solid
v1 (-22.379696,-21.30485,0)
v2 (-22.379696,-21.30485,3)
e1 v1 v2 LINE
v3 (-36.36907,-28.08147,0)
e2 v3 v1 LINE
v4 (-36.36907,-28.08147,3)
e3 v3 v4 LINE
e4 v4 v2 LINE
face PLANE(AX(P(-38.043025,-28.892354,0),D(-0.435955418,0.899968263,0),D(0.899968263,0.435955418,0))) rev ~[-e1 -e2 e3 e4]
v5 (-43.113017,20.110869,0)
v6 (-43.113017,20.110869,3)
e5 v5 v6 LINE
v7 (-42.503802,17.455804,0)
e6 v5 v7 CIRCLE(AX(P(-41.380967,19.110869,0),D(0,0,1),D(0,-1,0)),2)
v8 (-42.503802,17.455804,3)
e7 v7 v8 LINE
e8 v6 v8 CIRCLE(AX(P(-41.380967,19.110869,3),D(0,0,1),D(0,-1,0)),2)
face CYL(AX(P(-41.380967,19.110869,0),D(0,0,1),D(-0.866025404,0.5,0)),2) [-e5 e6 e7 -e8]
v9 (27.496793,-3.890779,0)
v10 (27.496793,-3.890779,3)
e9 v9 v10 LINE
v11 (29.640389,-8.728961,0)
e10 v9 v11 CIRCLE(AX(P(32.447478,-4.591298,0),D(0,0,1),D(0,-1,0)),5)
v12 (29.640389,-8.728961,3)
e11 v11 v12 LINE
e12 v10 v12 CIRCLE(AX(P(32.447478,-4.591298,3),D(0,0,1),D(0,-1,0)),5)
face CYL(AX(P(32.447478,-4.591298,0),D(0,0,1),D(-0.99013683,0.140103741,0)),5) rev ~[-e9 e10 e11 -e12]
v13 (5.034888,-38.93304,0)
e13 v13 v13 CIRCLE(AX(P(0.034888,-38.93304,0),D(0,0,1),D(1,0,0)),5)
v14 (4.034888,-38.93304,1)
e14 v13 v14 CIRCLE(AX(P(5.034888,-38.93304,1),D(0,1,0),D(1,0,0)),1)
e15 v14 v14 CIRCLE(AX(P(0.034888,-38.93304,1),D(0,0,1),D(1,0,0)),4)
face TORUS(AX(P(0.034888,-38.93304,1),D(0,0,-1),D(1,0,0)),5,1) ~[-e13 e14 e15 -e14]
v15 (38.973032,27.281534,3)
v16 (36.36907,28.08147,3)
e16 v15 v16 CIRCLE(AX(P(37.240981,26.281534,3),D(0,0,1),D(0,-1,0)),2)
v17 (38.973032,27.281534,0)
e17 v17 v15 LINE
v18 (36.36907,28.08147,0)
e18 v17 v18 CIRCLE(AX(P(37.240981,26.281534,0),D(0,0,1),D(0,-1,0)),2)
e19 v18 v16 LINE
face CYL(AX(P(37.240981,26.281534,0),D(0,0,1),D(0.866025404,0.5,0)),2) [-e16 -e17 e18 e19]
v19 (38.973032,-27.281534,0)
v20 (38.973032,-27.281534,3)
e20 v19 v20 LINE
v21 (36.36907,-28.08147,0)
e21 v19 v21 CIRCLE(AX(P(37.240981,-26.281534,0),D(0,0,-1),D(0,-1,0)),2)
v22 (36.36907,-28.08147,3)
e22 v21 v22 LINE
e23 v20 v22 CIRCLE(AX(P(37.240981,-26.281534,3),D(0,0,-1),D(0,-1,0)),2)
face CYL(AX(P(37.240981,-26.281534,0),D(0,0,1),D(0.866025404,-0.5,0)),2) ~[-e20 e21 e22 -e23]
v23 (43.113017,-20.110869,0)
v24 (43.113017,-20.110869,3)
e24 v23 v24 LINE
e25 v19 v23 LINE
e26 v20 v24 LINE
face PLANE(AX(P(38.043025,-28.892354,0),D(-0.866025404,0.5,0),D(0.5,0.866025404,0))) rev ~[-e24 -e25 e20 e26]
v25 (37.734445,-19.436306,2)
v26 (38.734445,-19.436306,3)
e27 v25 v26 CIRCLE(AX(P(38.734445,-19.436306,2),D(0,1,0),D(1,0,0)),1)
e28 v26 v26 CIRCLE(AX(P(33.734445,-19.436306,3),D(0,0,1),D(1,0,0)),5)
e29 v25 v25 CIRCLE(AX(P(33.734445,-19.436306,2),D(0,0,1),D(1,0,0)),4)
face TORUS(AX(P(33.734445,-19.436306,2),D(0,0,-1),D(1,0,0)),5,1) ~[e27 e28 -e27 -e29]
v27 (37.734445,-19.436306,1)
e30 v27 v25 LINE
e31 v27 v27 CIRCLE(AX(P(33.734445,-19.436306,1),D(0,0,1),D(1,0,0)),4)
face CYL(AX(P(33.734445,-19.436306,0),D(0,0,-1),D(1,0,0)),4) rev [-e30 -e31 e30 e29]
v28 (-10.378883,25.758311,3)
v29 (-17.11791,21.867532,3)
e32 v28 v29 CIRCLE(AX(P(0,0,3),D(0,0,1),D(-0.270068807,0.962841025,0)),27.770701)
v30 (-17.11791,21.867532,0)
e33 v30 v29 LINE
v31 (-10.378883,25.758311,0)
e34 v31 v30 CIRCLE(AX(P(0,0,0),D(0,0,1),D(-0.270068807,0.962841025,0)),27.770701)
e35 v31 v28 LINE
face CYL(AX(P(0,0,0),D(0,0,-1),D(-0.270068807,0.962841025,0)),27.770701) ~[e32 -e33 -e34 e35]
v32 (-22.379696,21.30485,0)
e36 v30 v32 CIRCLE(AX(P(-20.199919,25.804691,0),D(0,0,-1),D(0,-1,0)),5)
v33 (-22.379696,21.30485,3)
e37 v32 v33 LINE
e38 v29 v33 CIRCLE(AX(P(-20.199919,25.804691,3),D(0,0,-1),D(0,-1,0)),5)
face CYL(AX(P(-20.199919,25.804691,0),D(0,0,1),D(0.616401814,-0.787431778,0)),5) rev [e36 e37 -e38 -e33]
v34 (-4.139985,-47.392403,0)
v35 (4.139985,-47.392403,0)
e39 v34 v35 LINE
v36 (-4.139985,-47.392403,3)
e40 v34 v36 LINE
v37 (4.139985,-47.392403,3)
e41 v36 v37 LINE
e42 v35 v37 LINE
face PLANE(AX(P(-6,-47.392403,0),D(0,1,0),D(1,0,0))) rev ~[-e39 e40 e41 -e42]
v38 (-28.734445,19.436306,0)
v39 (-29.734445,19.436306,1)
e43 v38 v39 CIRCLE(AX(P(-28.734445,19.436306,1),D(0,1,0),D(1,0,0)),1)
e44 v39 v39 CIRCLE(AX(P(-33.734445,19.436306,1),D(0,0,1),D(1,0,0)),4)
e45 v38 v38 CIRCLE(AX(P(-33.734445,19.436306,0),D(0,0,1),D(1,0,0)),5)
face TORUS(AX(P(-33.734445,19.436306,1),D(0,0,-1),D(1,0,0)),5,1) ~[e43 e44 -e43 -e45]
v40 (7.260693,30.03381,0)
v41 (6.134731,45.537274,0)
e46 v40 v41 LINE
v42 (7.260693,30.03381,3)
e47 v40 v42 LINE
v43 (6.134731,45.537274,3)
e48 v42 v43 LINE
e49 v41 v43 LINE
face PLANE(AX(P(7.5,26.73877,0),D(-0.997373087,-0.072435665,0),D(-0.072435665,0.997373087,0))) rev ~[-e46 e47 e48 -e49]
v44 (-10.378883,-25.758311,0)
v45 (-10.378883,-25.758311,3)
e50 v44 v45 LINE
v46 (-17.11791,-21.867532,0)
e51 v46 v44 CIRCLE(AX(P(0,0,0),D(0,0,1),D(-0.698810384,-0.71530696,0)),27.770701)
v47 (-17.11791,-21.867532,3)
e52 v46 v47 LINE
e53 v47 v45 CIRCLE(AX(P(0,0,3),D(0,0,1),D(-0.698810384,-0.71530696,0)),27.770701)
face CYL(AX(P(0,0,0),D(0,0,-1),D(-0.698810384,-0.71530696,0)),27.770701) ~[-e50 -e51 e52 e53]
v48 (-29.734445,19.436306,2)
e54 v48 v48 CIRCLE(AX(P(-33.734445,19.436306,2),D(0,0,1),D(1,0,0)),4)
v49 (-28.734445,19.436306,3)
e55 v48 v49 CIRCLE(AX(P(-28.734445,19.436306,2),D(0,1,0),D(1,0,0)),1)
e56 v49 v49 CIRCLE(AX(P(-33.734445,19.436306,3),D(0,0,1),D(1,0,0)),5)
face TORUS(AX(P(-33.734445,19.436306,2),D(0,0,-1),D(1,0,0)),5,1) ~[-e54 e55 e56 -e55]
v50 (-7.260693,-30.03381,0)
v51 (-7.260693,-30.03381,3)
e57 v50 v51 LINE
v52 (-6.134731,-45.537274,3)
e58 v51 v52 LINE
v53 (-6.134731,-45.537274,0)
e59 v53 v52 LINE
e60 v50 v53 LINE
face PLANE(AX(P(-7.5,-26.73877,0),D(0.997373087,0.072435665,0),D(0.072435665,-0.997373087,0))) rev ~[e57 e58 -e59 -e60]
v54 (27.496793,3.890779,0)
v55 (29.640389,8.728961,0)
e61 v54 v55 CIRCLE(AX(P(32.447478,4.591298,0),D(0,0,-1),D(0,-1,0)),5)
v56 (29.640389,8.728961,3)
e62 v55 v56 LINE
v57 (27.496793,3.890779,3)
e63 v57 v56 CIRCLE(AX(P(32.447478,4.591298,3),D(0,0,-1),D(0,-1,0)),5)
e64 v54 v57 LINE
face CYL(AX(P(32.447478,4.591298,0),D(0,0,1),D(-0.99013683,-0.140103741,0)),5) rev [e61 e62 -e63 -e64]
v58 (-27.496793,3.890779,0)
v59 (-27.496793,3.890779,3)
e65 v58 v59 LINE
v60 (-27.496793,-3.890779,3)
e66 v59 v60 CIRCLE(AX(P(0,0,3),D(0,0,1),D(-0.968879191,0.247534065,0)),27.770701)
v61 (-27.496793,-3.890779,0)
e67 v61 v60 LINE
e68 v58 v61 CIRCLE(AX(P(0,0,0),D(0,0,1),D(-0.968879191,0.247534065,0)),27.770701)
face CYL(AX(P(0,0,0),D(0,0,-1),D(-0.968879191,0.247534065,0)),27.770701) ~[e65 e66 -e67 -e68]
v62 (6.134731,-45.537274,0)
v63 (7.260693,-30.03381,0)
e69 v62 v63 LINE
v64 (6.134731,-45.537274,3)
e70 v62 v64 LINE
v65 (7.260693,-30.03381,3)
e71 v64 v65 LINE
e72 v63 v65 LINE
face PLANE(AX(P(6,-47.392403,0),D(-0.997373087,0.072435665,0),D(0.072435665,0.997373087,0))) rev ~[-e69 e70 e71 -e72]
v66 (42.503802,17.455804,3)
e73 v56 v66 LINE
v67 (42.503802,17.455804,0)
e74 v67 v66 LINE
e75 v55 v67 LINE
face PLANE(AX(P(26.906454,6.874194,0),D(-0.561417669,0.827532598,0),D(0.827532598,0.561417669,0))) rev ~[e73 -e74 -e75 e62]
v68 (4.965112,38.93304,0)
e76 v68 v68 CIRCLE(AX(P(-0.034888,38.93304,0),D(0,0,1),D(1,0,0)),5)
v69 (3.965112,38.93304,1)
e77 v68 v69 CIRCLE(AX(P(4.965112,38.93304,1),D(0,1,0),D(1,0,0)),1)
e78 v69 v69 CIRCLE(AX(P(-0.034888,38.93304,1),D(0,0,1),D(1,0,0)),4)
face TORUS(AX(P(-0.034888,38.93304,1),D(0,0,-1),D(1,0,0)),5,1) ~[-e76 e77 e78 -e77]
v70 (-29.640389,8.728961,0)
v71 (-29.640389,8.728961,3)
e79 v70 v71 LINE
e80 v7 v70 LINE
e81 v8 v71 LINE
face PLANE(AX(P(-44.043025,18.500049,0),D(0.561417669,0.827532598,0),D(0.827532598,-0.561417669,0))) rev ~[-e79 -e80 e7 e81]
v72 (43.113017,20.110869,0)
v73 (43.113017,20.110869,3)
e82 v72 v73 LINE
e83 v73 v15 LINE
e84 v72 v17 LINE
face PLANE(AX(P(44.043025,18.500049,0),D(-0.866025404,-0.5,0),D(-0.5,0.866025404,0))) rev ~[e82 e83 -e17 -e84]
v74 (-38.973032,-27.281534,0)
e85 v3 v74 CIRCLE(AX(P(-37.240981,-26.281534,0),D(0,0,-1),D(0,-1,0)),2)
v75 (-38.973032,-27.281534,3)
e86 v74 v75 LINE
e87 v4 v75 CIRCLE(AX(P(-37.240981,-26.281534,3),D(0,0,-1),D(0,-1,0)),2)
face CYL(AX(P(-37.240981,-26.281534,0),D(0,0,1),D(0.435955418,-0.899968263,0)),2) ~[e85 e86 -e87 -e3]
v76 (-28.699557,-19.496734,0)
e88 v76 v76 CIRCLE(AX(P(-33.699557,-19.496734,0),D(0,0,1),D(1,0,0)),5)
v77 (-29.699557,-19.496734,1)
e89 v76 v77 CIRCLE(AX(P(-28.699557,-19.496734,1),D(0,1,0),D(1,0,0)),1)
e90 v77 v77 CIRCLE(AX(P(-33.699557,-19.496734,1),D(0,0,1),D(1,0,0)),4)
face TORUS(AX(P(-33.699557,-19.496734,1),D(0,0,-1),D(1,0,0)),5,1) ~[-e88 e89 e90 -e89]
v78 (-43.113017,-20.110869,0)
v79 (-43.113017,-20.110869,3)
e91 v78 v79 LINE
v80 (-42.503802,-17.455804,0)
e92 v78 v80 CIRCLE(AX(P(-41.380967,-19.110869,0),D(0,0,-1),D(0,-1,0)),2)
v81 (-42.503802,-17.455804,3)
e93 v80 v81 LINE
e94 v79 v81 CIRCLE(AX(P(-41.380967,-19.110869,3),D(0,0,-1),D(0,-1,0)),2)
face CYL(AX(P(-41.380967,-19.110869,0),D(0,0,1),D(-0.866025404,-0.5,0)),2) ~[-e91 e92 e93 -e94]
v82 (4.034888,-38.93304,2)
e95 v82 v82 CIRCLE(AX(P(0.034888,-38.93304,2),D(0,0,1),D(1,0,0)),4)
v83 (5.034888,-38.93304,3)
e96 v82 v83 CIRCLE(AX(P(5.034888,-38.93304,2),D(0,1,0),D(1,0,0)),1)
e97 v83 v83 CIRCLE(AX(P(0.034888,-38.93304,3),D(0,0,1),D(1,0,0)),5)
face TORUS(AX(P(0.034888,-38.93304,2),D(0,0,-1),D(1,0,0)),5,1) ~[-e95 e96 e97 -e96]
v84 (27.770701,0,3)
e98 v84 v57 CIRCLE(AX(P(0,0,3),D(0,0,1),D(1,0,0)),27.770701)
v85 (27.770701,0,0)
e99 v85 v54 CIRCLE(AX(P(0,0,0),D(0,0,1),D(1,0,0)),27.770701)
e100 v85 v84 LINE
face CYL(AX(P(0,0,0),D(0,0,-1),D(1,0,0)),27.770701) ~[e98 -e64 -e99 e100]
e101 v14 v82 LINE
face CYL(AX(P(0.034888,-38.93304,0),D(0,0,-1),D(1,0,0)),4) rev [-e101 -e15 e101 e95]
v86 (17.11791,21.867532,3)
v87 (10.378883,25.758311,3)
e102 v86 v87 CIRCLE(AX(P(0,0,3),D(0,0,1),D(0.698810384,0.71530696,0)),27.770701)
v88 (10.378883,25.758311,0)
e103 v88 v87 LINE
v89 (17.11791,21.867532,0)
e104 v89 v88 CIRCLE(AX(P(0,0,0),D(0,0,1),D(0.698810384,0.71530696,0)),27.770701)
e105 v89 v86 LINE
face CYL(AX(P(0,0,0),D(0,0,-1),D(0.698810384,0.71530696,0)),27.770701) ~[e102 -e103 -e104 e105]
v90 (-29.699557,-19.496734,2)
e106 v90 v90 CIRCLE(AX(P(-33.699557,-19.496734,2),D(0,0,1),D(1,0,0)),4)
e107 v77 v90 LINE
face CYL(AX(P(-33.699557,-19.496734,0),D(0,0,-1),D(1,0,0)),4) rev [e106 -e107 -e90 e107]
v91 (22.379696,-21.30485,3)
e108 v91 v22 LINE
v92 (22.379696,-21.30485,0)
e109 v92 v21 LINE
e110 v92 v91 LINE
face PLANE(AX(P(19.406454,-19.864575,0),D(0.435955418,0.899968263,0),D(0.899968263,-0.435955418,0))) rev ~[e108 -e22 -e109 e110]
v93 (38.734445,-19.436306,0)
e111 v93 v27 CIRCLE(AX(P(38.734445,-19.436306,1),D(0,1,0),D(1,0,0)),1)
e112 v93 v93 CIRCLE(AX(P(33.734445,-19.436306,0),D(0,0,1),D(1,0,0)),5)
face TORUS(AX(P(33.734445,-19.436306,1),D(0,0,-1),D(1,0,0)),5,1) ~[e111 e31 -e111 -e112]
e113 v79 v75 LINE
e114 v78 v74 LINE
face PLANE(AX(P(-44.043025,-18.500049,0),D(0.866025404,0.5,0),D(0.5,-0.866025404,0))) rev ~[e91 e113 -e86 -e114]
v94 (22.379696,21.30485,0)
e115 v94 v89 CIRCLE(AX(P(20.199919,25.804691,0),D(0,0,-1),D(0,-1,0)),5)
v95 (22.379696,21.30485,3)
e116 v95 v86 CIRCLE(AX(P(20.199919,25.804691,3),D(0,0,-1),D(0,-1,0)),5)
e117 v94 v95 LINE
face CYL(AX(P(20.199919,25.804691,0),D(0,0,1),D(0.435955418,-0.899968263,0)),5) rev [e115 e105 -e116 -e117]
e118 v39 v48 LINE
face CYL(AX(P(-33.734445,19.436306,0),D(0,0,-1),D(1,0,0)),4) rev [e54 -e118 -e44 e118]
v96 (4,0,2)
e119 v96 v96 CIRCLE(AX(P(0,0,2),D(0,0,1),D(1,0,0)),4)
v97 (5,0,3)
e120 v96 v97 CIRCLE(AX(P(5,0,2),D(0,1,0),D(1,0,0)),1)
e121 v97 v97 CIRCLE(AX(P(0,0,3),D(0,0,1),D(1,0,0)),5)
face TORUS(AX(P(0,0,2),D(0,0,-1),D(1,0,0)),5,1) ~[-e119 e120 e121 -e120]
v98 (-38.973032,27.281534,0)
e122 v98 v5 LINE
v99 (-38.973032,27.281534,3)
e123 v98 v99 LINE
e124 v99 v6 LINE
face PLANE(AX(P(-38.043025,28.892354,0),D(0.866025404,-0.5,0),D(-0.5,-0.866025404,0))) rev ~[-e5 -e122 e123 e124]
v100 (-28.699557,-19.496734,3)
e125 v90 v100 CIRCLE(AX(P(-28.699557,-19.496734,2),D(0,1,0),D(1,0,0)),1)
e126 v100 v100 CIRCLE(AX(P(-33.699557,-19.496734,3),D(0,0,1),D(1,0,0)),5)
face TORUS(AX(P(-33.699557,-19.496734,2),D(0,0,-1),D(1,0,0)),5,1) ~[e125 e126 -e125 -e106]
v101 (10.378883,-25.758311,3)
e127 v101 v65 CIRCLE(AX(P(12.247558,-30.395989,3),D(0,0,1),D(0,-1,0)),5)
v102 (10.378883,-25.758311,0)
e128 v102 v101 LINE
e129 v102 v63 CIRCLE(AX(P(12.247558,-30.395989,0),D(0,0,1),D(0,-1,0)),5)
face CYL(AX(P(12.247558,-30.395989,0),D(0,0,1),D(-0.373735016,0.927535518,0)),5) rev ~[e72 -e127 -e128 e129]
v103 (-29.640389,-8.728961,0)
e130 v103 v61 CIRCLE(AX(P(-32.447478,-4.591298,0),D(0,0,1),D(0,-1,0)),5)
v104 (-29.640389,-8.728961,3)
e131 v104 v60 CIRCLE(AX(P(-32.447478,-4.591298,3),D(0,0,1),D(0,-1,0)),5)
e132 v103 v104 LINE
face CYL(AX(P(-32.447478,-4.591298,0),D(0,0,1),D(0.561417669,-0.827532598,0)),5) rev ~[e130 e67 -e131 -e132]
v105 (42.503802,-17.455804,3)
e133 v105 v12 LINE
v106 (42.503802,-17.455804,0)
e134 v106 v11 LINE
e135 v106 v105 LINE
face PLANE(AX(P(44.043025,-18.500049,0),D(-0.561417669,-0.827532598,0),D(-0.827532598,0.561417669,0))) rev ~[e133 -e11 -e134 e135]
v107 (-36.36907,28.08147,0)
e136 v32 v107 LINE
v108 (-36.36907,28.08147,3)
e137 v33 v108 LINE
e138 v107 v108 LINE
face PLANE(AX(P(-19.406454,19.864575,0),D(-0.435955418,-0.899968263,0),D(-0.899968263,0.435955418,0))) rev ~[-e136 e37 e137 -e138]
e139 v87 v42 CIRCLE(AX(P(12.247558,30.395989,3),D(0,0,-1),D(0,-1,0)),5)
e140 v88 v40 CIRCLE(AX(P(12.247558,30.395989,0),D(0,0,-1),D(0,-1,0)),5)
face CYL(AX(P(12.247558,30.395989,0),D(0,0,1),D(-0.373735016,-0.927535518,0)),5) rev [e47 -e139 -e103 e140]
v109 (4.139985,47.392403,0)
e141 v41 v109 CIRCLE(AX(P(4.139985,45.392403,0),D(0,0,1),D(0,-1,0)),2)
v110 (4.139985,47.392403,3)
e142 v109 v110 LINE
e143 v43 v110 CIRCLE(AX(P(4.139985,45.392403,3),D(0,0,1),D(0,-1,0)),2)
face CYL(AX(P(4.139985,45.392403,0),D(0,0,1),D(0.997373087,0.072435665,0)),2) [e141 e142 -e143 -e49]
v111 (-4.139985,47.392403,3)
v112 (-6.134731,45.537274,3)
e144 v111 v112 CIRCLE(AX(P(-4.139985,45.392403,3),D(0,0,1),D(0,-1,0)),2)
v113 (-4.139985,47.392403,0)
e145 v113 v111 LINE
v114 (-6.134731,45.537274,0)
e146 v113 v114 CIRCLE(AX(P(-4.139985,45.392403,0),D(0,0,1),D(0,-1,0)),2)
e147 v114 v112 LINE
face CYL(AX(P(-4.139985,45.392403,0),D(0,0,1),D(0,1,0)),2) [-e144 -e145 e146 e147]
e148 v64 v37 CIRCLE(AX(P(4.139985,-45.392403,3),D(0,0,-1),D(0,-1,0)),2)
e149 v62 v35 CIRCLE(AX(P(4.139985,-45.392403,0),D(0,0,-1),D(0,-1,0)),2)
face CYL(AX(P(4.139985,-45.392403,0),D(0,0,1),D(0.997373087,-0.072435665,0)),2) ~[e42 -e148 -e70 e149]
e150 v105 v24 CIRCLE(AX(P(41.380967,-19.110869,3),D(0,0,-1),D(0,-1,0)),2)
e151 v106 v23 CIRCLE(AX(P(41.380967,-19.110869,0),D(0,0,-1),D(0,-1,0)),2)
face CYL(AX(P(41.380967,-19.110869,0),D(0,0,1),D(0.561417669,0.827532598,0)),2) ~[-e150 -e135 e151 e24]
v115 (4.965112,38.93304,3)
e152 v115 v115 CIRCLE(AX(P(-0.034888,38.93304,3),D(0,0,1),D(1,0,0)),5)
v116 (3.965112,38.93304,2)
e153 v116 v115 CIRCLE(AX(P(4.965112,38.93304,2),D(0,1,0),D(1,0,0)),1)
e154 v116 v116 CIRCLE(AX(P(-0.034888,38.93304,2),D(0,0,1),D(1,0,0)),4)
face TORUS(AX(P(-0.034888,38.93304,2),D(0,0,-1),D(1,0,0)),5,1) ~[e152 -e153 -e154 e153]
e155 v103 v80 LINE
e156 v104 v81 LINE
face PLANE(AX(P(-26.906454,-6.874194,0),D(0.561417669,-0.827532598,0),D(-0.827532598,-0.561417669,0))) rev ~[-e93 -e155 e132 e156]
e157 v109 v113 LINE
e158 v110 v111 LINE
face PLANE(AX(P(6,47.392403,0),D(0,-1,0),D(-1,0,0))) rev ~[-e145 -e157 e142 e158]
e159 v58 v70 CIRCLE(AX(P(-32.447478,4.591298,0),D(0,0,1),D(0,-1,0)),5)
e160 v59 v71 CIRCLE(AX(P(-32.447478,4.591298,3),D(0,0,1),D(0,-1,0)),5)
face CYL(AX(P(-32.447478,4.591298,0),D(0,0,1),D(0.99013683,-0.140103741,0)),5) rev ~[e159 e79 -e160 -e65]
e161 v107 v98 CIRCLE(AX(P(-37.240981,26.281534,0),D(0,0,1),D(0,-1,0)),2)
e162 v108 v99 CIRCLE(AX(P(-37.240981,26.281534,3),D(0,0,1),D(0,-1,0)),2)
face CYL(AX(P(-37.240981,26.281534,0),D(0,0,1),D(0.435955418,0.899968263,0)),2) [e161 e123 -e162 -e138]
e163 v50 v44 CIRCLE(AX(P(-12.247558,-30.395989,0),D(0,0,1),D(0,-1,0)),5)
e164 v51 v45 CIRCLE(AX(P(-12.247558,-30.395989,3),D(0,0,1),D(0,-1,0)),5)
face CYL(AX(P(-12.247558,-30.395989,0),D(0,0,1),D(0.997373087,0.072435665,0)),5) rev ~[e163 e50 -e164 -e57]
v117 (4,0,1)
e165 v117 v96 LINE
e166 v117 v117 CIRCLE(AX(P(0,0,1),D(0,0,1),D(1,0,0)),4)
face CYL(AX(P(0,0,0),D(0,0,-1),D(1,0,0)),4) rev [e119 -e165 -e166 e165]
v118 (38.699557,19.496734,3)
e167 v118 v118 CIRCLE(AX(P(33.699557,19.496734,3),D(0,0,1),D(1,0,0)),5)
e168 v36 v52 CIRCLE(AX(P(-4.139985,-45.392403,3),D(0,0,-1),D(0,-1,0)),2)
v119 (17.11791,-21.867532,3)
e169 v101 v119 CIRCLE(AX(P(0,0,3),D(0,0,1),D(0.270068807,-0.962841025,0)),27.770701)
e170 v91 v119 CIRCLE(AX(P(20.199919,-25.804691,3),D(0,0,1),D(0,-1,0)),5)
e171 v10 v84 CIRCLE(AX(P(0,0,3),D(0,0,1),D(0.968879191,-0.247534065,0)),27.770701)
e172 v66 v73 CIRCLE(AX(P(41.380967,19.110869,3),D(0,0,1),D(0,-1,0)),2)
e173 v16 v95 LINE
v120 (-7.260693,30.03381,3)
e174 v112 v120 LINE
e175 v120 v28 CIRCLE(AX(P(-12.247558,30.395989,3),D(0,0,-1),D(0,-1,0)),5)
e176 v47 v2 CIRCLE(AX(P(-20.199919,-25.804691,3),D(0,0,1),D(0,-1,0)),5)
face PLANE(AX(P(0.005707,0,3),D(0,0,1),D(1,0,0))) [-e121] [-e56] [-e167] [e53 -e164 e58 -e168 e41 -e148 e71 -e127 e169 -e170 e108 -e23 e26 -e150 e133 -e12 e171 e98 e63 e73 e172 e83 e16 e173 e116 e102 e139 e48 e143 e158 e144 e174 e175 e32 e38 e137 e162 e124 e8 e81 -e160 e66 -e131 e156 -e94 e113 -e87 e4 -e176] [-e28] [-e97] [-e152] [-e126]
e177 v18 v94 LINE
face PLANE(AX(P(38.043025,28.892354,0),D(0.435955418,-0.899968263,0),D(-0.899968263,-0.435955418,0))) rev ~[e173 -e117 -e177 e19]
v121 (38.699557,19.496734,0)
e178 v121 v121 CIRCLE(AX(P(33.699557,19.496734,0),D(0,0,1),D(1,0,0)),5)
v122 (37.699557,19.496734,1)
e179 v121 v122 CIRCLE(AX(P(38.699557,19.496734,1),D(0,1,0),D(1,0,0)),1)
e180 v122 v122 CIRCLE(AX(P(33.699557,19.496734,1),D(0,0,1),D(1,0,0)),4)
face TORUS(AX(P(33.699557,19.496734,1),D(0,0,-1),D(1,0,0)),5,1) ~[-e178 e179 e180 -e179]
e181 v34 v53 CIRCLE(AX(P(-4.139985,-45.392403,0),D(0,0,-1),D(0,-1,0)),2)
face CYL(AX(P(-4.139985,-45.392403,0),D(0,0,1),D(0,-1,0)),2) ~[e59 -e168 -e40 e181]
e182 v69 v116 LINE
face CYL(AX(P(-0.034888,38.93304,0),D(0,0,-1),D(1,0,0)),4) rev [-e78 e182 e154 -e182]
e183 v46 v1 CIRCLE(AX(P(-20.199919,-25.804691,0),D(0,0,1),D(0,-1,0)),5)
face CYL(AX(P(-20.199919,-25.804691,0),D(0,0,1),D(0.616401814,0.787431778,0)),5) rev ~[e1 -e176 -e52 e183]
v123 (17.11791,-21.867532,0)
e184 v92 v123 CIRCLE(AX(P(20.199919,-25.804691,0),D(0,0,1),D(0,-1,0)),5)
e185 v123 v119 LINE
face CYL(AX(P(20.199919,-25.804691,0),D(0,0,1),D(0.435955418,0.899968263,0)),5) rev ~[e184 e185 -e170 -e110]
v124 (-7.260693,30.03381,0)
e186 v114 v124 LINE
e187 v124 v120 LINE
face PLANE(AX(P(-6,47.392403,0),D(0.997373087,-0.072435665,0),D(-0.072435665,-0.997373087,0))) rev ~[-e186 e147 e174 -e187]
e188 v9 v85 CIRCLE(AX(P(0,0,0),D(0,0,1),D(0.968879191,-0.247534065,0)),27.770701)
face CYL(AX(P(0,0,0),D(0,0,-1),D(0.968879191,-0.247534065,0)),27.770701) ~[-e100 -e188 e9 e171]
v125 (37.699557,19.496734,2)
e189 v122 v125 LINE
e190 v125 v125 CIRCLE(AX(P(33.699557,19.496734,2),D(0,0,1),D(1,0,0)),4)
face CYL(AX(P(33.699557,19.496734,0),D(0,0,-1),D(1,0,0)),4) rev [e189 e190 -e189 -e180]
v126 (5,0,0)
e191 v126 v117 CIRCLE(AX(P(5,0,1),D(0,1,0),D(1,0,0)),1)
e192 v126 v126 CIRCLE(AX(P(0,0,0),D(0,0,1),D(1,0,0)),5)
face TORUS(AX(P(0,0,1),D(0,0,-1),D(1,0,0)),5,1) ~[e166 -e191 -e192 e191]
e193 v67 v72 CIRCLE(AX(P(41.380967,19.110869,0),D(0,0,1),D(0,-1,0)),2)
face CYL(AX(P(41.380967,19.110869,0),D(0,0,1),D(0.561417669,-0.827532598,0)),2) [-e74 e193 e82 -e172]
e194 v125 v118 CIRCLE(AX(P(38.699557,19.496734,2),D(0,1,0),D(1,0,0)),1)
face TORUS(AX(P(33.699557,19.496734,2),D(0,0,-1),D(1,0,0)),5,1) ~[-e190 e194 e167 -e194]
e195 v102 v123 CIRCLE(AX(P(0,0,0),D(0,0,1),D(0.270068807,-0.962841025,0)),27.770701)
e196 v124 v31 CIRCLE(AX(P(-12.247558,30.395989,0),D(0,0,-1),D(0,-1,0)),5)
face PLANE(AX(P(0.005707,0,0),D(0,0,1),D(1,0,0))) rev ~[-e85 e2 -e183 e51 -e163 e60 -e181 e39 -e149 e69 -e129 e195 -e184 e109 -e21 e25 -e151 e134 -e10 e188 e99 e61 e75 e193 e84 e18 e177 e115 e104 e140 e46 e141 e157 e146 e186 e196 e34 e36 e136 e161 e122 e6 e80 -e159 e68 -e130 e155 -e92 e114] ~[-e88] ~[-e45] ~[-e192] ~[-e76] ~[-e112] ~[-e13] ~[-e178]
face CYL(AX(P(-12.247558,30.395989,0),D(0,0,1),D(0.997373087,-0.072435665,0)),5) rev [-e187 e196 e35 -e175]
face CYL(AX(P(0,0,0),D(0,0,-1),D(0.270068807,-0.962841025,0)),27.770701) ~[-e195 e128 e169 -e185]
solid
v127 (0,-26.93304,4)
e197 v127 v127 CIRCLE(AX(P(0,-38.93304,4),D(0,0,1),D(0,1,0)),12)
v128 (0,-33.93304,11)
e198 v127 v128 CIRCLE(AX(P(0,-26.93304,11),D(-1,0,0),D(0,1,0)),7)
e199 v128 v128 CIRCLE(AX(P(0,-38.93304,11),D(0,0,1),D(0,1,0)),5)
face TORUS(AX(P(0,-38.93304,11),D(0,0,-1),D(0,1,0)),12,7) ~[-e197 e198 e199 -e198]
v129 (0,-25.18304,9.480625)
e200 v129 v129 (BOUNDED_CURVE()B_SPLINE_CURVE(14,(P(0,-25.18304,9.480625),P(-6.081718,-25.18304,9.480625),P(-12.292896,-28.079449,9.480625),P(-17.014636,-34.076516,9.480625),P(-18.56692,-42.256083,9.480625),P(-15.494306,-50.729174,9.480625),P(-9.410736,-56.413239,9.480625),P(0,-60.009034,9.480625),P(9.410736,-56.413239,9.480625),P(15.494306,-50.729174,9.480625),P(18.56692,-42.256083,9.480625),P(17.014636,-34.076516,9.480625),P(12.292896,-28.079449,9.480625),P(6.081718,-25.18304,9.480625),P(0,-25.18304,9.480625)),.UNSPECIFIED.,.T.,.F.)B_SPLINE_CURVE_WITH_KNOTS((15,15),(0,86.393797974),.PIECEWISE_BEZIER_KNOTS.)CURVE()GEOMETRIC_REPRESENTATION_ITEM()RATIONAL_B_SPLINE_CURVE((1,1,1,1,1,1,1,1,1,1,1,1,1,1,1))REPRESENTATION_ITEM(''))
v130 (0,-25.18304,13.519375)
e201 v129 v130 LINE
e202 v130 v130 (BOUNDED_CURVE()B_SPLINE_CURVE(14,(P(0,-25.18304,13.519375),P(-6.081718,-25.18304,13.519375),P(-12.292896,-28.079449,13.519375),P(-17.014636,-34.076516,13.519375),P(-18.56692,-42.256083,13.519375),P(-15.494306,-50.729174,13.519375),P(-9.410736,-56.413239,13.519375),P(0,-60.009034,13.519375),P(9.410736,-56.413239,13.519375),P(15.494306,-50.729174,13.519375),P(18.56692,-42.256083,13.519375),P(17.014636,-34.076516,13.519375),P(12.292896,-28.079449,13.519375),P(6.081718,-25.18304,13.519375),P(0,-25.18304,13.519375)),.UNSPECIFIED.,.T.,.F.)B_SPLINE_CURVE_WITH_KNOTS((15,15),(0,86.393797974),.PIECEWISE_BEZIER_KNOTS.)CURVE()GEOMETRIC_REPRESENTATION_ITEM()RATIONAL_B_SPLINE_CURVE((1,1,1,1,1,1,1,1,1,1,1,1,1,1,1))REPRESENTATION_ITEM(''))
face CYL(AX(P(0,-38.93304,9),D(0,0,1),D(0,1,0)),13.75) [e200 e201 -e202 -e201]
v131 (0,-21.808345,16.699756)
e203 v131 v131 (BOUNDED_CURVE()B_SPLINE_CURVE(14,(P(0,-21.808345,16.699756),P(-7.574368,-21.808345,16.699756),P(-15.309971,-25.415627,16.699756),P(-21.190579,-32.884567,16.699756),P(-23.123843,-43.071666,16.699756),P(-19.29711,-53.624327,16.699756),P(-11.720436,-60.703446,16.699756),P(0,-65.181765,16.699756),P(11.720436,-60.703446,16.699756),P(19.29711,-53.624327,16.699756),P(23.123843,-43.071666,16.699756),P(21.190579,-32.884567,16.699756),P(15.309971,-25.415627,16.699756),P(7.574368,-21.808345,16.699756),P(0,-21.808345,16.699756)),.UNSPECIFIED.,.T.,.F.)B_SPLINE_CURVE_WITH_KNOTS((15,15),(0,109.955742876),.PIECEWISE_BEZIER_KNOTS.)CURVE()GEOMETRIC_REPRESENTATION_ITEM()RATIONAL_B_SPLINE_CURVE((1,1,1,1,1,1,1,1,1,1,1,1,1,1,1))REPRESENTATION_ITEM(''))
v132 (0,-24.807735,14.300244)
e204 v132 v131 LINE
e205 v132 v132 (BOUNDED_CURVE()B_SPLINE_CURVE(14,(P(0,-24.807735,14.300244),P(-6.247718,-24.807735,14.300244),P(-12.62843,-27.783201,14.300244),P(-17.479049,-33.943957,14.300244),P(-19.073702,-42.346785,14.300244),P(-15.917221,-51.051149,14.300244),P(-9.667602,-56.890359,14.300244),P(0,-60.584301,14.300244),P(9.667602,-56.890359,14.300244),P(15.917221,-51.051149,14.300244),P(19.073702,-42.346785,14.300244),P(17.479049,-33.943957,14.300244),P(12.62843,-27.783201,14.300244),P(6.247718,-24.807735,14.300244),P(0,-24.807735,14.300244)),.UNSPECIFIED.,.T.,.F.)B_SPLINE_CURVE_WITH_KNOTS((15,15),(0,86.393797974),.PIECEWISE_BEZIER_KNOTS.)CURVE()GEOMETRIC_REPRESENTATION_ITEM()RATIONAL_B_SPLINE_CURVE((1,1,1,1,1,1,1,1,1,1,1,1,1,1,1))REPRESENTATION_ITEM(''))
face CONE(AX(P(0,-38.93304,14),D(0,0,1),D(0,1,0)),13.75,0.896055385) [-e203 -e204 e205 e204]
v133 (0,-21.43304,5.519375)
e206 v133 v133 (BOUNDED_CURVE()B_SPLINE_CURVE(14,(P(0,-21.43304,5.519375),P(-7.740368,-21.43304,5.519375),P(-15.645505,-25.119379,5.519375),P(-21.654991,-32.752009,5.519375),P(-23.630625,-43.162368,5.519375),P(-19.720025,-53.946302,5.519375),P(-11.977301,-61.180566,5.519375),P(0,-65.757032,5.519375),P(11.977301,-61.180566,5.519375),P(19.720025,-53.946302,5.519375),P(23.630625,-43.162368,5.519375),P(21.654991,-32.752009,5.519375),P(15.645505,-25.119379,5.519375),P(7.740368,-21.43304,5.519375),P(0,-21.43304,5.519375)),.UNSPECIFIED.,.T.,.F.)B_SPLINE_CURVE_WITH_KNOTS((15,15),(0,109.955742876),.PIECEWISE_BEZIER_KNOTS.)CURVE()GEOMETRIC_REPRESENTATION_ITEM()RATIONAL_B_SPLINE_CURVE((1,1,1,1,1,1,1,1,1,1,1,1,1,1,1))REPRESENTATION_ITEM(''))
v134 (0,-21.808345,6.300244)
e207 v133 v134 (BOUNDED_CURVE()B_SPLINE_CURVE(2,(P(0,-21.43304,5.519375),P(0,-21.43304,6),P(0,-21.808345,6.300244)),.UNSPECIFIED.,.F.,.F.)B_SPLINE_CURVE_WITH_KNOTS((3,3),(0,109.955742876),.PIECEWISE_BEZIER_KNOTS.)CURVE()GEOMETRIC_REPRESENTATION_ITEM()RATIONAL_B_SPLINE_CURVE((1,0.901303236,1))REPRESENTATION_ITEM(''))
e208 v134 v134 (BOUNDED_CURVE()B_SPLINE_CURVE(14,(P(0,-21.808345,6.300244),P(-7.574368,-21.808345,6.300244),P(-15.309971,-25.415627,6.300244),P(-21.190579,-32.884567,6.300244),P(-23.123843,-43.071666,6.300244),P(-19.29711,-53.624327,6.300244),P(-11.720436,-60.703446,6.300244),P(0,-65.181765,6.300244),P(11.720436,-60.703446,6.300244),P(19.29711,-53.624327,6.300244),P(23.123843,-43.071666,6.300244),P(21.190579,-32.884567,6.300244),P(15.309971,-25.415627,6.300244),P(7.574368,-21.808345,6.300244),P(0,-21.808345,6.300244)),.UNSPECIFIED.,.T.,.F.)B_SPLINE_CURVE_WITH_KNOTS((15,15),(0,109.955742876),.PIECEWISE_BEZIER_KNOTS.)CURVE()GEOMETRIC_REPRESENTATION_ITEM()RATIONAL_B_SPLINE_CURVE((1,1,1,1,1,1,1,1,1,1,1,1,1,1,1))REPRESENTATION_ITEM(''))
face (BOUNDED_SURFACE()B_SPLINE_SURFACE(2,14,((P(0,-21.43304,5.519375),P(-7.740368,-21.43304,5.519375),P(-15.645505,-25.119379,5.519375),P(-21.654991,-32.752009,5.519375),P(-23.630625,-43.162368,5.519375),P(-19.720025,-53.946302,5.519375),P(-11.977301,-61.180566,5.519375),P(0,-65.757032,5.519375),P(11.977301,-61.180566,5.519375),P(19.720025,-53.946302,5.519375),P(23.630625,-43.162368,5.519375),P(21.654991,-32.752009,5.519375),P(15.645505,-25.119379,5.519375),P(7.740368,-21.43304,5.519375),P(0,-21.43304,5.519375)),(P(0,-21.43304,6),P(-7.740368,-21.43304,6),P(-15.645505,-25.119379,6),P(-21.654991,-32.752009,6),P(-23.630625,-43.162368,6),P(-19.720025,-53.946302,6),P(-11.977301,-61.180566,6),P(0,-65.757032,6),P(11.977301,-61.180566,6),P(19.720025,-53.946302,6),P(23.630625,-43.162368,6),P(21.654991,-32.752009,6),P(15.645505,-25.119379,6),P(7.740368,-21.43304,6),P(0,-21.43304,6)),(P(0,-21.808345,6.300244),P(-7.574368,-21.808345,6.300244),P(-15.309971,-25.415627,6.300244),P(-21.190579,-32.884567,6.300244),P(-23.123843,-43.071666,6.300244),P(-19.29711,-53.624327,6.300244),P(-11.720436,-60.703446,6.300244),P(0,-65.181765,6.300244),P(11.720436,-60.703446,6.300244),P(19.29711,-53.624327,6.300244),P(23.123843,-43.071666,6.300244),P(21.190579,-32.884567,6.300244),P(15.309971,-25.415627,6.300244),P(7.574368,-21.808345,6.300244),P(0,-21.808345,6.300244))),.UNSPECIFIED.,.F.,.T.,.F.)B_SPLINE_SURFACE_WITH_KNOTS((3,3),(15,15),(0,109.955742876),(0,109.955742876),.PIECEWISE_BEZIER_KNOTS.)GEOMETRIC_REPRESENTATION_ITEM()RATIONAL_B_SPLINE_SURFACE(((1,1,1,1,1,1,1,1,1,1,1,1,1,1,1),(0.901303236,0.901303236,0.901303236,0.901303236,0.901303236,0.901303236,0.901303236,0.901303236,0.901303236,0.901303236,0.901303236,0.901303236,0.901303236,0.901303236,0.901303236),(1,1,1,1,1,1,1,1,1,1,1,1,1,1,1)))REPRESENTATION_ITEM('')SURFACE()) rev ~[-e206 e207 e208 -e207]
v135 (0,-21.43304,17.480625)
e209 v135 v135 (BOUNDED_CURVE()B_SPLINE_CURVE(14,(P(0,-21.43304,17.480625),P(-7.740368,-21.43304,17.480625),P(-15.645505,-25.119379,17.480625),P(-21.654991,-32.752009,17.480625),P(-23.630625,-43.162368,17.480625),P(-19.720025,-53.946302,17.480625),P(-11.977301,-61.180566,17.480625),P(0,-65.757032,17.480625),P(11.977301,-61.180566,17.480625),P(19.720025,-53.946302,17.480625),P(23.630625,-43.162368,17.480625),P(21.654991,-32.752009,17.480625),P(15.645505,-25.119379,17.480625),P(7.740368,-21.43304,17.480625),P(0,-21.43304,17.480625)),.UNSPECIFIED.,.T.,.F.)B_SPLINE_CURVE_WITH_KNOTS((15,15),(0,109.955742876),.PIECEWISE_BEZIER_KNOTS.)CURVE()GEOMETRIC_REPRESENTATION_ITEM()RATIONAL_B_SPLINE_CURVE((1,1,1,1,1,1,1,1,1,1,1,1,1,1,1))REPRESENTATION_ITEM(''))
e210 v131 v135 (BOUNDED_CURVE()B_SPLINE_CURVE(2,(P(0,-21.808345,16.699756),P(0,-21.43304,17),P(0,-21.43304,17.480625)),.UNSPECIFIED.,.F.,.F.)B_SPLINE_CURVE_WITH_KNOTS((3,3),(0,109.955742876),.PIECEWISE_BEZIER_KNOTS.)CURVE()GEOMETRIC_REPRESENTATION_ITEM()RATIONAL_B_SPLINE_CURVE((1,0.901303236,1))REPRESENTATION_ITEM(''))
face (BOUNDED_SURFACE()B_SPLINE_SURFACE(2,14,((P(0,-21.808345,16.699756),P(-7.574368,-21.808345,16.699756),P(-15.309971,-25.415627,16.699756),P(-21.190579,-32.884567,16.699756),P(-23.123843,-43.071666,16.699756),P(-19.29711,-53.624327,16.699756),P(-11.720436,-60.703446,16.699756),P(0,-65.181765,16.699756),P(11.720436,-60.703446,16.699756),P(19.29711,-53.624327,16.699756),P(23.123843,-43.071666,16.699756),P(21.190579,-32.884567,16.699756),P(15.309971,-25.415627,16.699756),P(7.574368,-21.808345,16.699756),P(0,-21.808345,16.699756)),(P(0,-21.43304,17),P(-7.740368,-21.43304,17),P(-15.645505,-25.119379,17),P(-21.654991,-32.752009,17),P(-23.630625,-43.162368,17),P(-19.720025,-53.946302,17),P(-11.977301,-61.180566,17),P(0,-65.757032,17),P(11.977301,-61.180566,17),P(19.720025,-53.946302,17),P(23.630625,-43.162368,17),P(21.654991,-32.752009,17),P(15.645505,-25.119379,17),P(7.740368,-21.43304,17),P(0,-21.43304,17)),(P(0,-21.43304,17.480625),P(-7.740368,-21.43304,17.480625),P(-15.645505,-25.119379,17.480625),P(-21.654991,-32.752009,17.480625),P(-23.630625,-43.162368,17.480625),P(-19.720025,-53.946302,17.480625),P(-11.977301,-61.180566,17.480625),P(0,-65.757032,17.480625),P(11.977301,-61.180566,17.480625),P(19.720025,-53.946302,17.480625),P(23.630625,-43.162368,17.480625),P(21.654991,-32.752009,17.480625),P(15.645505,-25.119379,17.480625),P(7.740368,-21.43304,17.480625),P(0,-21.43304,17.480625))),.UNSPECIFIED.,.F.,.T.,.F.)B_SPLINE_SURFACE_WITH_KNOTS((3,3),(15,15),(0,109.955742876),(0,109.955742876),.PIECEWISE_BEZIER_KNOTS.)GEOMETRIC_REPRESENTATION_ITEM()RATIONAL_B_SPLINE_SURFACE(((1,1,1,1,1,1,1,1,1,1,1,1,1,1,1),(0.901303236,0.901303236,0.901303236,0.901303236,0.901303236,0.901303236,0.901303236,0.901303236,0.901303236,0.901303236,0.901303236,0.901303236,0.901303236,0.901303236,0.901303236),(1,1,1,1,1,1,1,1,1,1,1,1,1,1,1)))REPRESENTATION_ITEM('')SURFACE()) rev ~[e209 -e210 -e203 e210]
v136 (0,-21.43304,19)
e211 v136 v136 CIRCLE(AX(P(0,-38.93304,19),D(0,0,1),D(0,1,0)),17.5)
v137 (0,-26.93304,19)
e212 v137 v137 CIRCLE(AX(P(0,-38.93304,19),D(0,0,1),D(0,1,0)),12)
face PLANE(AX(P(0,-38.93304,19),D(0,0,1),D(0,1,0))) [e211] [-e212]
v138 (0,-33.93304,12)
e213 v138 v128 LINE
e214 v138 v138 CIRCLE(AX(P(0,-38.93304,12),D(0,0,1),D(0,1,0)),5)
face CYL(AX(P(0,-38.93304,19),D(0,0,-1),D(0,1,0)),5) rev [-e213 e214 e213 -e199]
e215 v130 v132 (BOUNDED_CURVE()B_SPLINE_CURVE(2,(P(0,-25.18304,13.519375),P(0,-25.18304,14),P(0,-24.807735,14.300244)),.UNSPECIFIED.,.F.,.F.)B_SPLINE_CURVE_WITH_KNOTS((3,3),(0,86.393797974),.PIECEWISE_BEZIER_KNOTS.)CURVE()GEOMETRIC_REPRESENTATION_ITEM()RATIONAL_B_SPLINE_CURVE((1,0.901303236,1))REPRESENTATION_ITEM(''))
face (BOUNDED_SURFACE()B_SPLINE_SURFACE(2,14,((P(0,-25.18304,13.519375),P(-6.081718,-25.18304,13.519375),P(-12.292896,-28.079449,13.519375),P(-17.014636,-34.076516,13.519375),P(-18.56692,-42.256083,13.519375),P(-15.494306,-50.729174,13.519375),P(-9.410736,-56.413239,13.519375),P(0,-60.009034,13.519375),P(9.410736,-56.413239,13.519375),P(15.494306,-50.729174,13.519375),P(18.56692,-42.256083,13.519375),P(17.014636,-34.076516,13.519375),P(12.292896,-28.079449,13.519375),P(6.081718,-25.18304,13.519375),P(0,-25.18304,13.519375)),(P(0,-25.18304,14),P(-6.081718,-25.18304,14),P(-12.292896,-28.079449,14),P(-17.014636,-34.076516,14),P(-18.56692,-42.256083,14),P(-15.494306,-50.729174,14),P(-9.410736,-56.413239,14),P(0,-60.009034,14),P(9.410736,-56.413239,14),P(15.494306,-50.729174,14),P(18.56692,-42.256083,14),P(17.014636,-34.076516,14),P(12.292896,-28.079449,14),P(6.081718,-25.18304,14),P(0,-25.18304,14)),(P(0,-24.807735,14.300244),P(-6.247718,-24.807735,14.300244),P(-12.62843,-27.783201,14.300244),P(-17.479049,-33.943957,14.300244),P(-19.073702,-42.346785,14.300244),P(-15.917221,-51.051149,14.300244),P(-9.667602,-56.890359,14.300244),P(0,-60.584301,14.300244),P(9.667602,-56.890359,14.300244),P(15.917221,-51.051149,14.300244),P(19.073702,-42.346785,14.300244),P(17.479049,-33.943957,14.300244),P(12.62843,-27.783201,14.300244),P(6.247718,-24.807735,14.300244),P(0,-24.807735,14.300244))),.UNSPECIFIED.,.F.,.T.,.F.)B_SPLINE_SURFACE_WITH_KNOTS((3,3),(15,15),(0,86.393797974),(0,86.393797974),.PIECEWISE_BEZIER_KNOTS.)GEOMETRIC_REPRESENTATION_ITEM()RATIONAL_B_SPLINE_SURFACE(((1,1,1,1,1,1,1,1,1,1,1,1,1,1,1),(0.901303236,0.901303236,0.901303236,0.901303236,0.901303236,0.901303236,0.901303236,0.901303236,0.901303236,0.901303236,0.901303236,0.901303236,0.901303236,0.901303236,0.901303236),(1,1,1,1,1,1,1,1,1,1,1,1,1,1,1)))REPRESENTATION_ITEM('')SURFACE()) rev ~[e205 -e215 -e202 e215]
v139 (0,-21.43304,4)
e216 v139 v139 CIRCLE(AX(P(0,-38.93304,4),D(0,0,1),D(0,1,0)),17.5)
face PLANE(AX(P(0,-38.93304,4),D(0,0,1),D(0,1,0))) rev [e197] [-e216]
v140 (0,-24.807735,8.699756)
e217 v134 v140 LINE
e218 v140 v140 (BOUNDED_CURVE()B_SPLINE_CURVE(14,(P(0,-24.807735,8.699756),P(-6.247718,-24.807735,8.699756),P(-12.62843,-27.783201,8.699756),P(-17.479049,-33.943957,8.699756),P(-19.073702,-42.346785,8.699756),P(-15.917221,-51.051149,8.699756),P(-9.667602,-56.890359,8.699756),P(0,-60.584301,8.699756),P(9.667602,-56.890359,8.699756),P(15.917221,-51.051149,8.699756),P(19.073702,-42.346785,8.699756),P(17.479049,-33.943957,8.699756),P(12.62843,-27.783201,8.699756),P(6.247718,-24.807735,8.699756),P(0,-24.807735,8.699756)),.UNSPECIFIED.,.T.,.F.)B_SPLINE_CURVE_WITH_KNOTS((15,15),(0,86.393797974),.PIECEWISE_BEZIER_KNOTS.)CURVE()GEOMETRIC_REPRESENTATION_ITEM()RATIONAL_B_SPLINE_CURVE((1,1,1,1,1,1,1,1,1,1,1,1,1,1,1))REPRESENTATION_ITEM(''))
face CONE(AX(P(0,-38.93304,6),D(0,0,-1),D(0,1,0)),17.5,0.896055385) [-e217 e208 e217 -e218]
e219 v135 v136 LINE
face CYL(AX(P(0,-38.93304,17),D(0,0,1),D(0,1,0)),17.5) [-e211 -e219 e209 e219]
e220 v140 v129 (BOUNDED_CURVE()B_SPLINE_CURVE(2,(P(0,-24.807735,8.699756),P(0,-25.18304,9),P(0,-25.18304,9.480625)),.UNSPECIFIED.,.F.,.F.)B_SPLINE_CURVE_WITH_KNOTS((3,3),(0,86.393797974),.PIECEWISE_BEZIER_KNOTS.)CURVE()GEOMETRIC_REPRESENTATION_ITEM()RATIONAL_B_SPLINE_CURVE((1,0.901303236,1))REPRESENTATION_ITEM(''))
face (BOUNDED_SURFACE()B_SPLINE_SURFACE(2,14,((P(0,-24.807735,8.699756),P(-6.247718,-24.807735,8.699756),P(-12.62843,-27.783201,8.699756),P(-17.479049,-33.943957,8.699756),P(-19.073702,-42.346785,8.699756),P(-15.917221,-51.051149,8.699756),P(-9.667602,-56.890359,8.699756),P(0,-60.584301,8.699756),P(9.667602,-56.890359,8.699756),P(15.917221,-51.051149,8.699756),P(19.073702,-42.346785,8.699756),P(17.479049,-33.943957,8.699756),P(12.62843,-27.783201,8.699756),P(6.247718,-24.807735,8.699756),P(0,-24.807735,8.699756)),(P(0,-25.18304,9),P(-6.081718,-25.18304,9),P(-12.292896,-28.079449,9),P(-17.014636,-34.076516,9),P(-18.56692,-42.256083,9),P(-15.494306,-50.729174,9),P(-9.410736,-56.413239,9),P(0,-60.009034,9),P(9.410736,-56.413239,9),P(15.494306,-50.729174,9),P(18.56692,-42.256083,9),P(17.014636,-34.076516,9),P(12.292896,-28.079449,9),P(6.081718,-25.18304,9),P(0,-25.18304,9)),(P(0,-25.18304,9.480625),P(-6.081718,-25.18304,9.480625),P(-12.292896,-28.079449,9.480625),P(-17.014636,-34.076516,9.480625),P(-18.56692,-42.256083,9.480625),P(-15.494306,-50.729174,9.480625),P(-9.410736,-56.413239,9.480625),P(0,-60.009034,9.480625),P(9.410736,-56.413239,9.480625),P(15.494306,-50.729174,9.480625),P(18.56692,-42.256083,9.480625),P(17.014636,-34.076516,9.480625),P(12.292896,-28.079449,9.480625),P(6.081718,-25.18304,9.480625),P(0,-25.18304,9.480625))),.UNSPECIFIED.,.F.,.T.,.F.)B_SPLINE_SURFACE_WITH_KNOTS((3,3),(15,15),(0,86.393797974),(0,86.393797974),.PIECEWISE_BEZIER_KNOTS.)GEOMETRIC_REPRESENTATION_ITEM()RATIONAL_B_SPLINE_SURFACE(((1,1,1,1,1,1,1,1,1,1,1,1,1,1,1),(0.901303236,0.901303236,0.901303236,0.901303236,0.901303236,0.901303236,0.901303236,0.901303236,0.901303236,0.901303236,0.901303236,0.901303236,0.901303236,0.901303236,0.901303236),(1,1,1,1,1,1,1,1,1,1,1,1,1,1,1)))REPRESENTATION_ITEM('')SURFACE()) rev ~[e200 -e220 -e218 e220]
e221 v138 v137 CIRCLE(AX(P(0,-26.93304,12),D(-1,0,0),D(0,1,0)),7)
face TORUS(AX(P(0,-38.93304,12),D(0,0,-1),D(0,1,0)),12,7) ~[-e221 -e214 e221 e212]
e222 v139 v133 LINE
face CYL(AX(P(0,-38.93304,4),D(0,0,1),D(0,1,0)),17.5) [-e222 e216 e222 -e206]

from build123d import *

# Parameters (mm, degrees)
F0_R     = 4
F1_DEPTH = 3
F2_R     = 5
F3_R     = 2
F4_R     = 1
F8_R     = 1
F9_R     = 7


with BuildPart() as f1:
    # F0 (on Top) → F1 (new body)
    with BuildSketch(Plane.XY):
        with BuildLine():
            ThreePointArc((26.9064539686, -6.8741944039), (27.5537918646, -3.4641546951), (27.7707006369, 0))
            ThreePointArc((27.7707006369, 0), (27.5537918646, 3.4641546951), (26.9064539686, 6.8741944039))
            ThreePointArc((26.9064539686, 6.8741944039), (24.0501322325, 13.8853503185), (19.4064539686, 19.8645754606))
            ThreePointArc((19.4064539686, 19.8645754606), (13.8853503185, 24.0501322325), (7.5, 26.7387698645))
            ThreePointArc((7.5, 26.7387698645), (0, 27.7707006369), (-7.5, 26.7387698645))
            ThreePointArc((-7.5, 26.7387698645), (-13.8853503185, 24.0501322325), (-19.4064539686, 19.8645754606))
            ThreePointArc((-19.4064539686, 19.8645754606), (-24.0501322325, 13.8853503185), (-26.9064539686, 6.8741944039))
            ThreePointArc((-26.9064539686, 6.8741944039), (-27.7707006369, 0), (-26.9064539686, -6.8741944039))
            ThreePointArc((-26.9064539686, -6.8741944039), (-24.0501322325, -13.8853503185), (-19.4064539686, -19.8645754606))
            ThreePointArc((-19.4064539686, -19.8645754606), (-13.8853503185, -24.0501322325), (-7.5, -26.7387698645))
            ThreePointArc((-7.5, -26.7387698645), (0, -27.7707006369), (7.5, -26.7387698645))
            ThreePointArc((7.5, -26.7387698645), (13.8853503185, -24.0501322325), (19.4064539686, -19.8645754606))
            ThreePointArc((19.4064539686, -19.8645754606), (24.0501322325, -13.8853503185), (26.9064539686, -6.8741944039))
        make_face()
        Circle(F0_R, mode=Mode.SUBTRACT)
        with BuildLine():
            ThreePointArc((-26.9064539686, 6.8741944039), (-24.0501322325, 13.8853503185), (-19.4064539686, 19.8645754606))
            Line((-19.4064539686, 19.8645754606), (-38.0430247363, 28.8923538026))
            Line((-38.0430247363, 28.8923538026), (-44.0430247363, 18.5000489572))
            Line((-44.0430247363, 18.5000489572), (-26.9064539686, 6.8741944039))
        make_face()
        with Locations((-33.7344454394, 19.4363057541)):
            Circle(F0_R, mode=Mode.SUBTRACT)
        with BuildLine():
            Line((-38.0430247363, -28.8923538026), (-19.4064539686, -19.8645754606))
            ThreePointArc((-19.4064539686, -19.8645754606), (-24.0501322325, -13.8853503185), (-26.9064539686, -6.8741944039))
            Line((-26.9064539686, -6.8741944039), (-44.0430247363, -18.5000489572))
            Line((-44.0430247363, -18.5000489572), (-38.0430247363, -28.8923538026))
        make_face()
        with Locations((-33.6995572585, -19.4967338561)):
            Circle(F0_R, mode=Mode.SUBTRACT)
        with BuildLine():
            Line((6, -47.3924027598), (7.5, -26.7387698645))
            ThreePointArc((7.5, -26.7387698645), (0, -27.7707006369), (-7.5, -26.7387698645))
            Line((-7.5, -26.7387698645), (-6, -47.3924027598))
            Line((-6, -47.3924027598), (6, -47.3924027598))
        make_face()
        with Locations((0.0348881809, -38.9330396102)):
            Circle(F0_R, mode=Mode.SUBTRACT)
        with BuildLine():
            Line((44.0430247363, -18.5000489572), (26.9064539686, -6.8741944039))
            ThreePointArc((26.9064539686, -6.8741944039), (24.0501322325, -13.8853503185), (19.4064539686, -19.8645754606))
            Line((19.4064539686, -19.8645754606), (38.0430247363, -28.8923538026))
            Line((38.0430247363, -28.8923538026), (44.0430247363, -18.5000489572))
        make_face()
        with Locations((33.7344454394, -19.4363057541)):
            Circle(F0_R, mode=Mode.SUBTRACT)
        with BuildLine():
            ThreePointArc((-7.5, 26.7387698645), (0, 27.7707006369), (7.5, 26.7387698645))
            Line((7.5, 26.7387698645), (6, 47.3924027598))
            Line((6, 47.3924027598), (-6, 47.3924027598))
            Line((-6, 47.3924027598), (-7.5, 26.7387698645))
        make_face()
        with Locations((-0.0348881809, 38.9330396102)):
            Circle(F0_R, mode=Mode.SUBTRACT)
        with BuildLine():
            ThreePointArc((19.4064539686, 19.8645754606), (24.0501322325, 13.8853503185), (26.9064539686, 6.8741944039))
            Line((26.9064539686, 6.8741944039), (44.0430247363, 18.5000489572))
            Line((44.0430247363, 18.5000489572), (38.0430247363, 28.8923538026))
            Line((38.0430247363, 28.8923538026), (19.4064539686, 19.8645754606))
        make_face()
        with Locations((33.6995572585, 19.4967338561)):
            Circle(F0_R, mode=Mode.SUBTRACT)
    extrude(amount=F1_DEPTH)

    # F2
    f2_edges = [f1.edges().sort_by_distance(p)[0] for p in [
        (-19.406454, -19.864575, 1.5),
        (-7.5, -26.73877, 1.5),
        (19.406454, -19.864575, 1.5),
        (7.5, -26.73877, 1.5),
        (26.906454, -6.874194, 1.5),
        (7.5, 26.73877, 1.5),
        (-7.5, 26.73877, 1.5),
        (-19.406454, 19.864575, 1.5),
        (-26.906454, 6.874194, 1.5),
        (-26.906454, -6.874194, 1.5),
        (26.906454, 6.874194, 1.5),
        (19.406454, 19.864575, 1.5),
    ]]
    fillet(f2_edges, radius=F2_R)

    # F3
    f3_edges = [f1.edges().sort_by_distance(p)[0] for p in [
        (-44.043025, -18.500049, 1.5),
        (-6, -47.392403, 1.5),
        (38.043025, -28.892354, 1.5),
        (-38.043025, 28.892354, 1.5),
        (6, 47.392403, 1.5),
        (-6, 47.392403, 1.5),
        (-44.043025, 18.500049, 1.5),
        (44.043025, -18.500049, 1.5),
        (6, -47.392403, 1.5),
        (-38.043025, -28.892354, 1.5),
        (38.043025, 28.892354, 1.5),
        (44.043025, 18.500049, 1.5),
    ]]
    fillet(f3_edges, radius=F3_R)

    # F4
    f4_edges = [f1.edges().sort_by_distance(p)[0] for p in [
        (-4, 0, 3),
        (-37.699557, -19.496734, 3),
        (-37.734445, 19.436306, 3),
        (-3.965112, -38.93304, 3),
        (29.734445, -19.436306, 3),
        (29.699557, 19.496734, 3),
        (-37.734445, 19.436306, 0),
        (29.699557, 19.496734, 0),
        (-4, 0, 0),
        (29.734445, -19.436306, 0),
        (-3.965112, -38.93304, 0),
        (-37.699557, -19.496734, 0),
        (-4.034888, 38.93304, 3),
        (-4.034888, 38.93304, 0),
    ]]
    fillet(f4_edges, radius=F4_R)


with BuildPart() as f7:
    # F6 (on Right) → F7 (revolve)
    with BuildSketch(Plane.YZ):
        Polygon((-33.9330396102, 19), (-33.9330396102, 4), (-21.4330396102, 4), (-21.4330396102, 6), (-25.1830396102, 9), (-25.1830396102, 14), (-21.4330396102, 17), (-21.4330396102, 19), align=None)
    revolve(axis=Axis((0, -38.9330396102, 4.0137199368), (0, 0, 1)))

    # F8
    f8_edges = [f7.edges().sort_by_distance(p)[0] for p in [
        (0, -52.68304, 9),
        (0, -52.68304, 14),
        (0, -56.43304, 17),
        (0, -56.43304, 6),
    ]]
    fillet(f8_edges, radius=F8_R)

    # F9
    f9_edges = [f7.edges().sort_by_distance(p)[0] for p in [
        (0, -43.93304, 19),
        (0, -43.93304, 4),
    ]]
    fillet(f9_edges, radius=F9_R)


solid = Compound([f1.part, f7.part])
